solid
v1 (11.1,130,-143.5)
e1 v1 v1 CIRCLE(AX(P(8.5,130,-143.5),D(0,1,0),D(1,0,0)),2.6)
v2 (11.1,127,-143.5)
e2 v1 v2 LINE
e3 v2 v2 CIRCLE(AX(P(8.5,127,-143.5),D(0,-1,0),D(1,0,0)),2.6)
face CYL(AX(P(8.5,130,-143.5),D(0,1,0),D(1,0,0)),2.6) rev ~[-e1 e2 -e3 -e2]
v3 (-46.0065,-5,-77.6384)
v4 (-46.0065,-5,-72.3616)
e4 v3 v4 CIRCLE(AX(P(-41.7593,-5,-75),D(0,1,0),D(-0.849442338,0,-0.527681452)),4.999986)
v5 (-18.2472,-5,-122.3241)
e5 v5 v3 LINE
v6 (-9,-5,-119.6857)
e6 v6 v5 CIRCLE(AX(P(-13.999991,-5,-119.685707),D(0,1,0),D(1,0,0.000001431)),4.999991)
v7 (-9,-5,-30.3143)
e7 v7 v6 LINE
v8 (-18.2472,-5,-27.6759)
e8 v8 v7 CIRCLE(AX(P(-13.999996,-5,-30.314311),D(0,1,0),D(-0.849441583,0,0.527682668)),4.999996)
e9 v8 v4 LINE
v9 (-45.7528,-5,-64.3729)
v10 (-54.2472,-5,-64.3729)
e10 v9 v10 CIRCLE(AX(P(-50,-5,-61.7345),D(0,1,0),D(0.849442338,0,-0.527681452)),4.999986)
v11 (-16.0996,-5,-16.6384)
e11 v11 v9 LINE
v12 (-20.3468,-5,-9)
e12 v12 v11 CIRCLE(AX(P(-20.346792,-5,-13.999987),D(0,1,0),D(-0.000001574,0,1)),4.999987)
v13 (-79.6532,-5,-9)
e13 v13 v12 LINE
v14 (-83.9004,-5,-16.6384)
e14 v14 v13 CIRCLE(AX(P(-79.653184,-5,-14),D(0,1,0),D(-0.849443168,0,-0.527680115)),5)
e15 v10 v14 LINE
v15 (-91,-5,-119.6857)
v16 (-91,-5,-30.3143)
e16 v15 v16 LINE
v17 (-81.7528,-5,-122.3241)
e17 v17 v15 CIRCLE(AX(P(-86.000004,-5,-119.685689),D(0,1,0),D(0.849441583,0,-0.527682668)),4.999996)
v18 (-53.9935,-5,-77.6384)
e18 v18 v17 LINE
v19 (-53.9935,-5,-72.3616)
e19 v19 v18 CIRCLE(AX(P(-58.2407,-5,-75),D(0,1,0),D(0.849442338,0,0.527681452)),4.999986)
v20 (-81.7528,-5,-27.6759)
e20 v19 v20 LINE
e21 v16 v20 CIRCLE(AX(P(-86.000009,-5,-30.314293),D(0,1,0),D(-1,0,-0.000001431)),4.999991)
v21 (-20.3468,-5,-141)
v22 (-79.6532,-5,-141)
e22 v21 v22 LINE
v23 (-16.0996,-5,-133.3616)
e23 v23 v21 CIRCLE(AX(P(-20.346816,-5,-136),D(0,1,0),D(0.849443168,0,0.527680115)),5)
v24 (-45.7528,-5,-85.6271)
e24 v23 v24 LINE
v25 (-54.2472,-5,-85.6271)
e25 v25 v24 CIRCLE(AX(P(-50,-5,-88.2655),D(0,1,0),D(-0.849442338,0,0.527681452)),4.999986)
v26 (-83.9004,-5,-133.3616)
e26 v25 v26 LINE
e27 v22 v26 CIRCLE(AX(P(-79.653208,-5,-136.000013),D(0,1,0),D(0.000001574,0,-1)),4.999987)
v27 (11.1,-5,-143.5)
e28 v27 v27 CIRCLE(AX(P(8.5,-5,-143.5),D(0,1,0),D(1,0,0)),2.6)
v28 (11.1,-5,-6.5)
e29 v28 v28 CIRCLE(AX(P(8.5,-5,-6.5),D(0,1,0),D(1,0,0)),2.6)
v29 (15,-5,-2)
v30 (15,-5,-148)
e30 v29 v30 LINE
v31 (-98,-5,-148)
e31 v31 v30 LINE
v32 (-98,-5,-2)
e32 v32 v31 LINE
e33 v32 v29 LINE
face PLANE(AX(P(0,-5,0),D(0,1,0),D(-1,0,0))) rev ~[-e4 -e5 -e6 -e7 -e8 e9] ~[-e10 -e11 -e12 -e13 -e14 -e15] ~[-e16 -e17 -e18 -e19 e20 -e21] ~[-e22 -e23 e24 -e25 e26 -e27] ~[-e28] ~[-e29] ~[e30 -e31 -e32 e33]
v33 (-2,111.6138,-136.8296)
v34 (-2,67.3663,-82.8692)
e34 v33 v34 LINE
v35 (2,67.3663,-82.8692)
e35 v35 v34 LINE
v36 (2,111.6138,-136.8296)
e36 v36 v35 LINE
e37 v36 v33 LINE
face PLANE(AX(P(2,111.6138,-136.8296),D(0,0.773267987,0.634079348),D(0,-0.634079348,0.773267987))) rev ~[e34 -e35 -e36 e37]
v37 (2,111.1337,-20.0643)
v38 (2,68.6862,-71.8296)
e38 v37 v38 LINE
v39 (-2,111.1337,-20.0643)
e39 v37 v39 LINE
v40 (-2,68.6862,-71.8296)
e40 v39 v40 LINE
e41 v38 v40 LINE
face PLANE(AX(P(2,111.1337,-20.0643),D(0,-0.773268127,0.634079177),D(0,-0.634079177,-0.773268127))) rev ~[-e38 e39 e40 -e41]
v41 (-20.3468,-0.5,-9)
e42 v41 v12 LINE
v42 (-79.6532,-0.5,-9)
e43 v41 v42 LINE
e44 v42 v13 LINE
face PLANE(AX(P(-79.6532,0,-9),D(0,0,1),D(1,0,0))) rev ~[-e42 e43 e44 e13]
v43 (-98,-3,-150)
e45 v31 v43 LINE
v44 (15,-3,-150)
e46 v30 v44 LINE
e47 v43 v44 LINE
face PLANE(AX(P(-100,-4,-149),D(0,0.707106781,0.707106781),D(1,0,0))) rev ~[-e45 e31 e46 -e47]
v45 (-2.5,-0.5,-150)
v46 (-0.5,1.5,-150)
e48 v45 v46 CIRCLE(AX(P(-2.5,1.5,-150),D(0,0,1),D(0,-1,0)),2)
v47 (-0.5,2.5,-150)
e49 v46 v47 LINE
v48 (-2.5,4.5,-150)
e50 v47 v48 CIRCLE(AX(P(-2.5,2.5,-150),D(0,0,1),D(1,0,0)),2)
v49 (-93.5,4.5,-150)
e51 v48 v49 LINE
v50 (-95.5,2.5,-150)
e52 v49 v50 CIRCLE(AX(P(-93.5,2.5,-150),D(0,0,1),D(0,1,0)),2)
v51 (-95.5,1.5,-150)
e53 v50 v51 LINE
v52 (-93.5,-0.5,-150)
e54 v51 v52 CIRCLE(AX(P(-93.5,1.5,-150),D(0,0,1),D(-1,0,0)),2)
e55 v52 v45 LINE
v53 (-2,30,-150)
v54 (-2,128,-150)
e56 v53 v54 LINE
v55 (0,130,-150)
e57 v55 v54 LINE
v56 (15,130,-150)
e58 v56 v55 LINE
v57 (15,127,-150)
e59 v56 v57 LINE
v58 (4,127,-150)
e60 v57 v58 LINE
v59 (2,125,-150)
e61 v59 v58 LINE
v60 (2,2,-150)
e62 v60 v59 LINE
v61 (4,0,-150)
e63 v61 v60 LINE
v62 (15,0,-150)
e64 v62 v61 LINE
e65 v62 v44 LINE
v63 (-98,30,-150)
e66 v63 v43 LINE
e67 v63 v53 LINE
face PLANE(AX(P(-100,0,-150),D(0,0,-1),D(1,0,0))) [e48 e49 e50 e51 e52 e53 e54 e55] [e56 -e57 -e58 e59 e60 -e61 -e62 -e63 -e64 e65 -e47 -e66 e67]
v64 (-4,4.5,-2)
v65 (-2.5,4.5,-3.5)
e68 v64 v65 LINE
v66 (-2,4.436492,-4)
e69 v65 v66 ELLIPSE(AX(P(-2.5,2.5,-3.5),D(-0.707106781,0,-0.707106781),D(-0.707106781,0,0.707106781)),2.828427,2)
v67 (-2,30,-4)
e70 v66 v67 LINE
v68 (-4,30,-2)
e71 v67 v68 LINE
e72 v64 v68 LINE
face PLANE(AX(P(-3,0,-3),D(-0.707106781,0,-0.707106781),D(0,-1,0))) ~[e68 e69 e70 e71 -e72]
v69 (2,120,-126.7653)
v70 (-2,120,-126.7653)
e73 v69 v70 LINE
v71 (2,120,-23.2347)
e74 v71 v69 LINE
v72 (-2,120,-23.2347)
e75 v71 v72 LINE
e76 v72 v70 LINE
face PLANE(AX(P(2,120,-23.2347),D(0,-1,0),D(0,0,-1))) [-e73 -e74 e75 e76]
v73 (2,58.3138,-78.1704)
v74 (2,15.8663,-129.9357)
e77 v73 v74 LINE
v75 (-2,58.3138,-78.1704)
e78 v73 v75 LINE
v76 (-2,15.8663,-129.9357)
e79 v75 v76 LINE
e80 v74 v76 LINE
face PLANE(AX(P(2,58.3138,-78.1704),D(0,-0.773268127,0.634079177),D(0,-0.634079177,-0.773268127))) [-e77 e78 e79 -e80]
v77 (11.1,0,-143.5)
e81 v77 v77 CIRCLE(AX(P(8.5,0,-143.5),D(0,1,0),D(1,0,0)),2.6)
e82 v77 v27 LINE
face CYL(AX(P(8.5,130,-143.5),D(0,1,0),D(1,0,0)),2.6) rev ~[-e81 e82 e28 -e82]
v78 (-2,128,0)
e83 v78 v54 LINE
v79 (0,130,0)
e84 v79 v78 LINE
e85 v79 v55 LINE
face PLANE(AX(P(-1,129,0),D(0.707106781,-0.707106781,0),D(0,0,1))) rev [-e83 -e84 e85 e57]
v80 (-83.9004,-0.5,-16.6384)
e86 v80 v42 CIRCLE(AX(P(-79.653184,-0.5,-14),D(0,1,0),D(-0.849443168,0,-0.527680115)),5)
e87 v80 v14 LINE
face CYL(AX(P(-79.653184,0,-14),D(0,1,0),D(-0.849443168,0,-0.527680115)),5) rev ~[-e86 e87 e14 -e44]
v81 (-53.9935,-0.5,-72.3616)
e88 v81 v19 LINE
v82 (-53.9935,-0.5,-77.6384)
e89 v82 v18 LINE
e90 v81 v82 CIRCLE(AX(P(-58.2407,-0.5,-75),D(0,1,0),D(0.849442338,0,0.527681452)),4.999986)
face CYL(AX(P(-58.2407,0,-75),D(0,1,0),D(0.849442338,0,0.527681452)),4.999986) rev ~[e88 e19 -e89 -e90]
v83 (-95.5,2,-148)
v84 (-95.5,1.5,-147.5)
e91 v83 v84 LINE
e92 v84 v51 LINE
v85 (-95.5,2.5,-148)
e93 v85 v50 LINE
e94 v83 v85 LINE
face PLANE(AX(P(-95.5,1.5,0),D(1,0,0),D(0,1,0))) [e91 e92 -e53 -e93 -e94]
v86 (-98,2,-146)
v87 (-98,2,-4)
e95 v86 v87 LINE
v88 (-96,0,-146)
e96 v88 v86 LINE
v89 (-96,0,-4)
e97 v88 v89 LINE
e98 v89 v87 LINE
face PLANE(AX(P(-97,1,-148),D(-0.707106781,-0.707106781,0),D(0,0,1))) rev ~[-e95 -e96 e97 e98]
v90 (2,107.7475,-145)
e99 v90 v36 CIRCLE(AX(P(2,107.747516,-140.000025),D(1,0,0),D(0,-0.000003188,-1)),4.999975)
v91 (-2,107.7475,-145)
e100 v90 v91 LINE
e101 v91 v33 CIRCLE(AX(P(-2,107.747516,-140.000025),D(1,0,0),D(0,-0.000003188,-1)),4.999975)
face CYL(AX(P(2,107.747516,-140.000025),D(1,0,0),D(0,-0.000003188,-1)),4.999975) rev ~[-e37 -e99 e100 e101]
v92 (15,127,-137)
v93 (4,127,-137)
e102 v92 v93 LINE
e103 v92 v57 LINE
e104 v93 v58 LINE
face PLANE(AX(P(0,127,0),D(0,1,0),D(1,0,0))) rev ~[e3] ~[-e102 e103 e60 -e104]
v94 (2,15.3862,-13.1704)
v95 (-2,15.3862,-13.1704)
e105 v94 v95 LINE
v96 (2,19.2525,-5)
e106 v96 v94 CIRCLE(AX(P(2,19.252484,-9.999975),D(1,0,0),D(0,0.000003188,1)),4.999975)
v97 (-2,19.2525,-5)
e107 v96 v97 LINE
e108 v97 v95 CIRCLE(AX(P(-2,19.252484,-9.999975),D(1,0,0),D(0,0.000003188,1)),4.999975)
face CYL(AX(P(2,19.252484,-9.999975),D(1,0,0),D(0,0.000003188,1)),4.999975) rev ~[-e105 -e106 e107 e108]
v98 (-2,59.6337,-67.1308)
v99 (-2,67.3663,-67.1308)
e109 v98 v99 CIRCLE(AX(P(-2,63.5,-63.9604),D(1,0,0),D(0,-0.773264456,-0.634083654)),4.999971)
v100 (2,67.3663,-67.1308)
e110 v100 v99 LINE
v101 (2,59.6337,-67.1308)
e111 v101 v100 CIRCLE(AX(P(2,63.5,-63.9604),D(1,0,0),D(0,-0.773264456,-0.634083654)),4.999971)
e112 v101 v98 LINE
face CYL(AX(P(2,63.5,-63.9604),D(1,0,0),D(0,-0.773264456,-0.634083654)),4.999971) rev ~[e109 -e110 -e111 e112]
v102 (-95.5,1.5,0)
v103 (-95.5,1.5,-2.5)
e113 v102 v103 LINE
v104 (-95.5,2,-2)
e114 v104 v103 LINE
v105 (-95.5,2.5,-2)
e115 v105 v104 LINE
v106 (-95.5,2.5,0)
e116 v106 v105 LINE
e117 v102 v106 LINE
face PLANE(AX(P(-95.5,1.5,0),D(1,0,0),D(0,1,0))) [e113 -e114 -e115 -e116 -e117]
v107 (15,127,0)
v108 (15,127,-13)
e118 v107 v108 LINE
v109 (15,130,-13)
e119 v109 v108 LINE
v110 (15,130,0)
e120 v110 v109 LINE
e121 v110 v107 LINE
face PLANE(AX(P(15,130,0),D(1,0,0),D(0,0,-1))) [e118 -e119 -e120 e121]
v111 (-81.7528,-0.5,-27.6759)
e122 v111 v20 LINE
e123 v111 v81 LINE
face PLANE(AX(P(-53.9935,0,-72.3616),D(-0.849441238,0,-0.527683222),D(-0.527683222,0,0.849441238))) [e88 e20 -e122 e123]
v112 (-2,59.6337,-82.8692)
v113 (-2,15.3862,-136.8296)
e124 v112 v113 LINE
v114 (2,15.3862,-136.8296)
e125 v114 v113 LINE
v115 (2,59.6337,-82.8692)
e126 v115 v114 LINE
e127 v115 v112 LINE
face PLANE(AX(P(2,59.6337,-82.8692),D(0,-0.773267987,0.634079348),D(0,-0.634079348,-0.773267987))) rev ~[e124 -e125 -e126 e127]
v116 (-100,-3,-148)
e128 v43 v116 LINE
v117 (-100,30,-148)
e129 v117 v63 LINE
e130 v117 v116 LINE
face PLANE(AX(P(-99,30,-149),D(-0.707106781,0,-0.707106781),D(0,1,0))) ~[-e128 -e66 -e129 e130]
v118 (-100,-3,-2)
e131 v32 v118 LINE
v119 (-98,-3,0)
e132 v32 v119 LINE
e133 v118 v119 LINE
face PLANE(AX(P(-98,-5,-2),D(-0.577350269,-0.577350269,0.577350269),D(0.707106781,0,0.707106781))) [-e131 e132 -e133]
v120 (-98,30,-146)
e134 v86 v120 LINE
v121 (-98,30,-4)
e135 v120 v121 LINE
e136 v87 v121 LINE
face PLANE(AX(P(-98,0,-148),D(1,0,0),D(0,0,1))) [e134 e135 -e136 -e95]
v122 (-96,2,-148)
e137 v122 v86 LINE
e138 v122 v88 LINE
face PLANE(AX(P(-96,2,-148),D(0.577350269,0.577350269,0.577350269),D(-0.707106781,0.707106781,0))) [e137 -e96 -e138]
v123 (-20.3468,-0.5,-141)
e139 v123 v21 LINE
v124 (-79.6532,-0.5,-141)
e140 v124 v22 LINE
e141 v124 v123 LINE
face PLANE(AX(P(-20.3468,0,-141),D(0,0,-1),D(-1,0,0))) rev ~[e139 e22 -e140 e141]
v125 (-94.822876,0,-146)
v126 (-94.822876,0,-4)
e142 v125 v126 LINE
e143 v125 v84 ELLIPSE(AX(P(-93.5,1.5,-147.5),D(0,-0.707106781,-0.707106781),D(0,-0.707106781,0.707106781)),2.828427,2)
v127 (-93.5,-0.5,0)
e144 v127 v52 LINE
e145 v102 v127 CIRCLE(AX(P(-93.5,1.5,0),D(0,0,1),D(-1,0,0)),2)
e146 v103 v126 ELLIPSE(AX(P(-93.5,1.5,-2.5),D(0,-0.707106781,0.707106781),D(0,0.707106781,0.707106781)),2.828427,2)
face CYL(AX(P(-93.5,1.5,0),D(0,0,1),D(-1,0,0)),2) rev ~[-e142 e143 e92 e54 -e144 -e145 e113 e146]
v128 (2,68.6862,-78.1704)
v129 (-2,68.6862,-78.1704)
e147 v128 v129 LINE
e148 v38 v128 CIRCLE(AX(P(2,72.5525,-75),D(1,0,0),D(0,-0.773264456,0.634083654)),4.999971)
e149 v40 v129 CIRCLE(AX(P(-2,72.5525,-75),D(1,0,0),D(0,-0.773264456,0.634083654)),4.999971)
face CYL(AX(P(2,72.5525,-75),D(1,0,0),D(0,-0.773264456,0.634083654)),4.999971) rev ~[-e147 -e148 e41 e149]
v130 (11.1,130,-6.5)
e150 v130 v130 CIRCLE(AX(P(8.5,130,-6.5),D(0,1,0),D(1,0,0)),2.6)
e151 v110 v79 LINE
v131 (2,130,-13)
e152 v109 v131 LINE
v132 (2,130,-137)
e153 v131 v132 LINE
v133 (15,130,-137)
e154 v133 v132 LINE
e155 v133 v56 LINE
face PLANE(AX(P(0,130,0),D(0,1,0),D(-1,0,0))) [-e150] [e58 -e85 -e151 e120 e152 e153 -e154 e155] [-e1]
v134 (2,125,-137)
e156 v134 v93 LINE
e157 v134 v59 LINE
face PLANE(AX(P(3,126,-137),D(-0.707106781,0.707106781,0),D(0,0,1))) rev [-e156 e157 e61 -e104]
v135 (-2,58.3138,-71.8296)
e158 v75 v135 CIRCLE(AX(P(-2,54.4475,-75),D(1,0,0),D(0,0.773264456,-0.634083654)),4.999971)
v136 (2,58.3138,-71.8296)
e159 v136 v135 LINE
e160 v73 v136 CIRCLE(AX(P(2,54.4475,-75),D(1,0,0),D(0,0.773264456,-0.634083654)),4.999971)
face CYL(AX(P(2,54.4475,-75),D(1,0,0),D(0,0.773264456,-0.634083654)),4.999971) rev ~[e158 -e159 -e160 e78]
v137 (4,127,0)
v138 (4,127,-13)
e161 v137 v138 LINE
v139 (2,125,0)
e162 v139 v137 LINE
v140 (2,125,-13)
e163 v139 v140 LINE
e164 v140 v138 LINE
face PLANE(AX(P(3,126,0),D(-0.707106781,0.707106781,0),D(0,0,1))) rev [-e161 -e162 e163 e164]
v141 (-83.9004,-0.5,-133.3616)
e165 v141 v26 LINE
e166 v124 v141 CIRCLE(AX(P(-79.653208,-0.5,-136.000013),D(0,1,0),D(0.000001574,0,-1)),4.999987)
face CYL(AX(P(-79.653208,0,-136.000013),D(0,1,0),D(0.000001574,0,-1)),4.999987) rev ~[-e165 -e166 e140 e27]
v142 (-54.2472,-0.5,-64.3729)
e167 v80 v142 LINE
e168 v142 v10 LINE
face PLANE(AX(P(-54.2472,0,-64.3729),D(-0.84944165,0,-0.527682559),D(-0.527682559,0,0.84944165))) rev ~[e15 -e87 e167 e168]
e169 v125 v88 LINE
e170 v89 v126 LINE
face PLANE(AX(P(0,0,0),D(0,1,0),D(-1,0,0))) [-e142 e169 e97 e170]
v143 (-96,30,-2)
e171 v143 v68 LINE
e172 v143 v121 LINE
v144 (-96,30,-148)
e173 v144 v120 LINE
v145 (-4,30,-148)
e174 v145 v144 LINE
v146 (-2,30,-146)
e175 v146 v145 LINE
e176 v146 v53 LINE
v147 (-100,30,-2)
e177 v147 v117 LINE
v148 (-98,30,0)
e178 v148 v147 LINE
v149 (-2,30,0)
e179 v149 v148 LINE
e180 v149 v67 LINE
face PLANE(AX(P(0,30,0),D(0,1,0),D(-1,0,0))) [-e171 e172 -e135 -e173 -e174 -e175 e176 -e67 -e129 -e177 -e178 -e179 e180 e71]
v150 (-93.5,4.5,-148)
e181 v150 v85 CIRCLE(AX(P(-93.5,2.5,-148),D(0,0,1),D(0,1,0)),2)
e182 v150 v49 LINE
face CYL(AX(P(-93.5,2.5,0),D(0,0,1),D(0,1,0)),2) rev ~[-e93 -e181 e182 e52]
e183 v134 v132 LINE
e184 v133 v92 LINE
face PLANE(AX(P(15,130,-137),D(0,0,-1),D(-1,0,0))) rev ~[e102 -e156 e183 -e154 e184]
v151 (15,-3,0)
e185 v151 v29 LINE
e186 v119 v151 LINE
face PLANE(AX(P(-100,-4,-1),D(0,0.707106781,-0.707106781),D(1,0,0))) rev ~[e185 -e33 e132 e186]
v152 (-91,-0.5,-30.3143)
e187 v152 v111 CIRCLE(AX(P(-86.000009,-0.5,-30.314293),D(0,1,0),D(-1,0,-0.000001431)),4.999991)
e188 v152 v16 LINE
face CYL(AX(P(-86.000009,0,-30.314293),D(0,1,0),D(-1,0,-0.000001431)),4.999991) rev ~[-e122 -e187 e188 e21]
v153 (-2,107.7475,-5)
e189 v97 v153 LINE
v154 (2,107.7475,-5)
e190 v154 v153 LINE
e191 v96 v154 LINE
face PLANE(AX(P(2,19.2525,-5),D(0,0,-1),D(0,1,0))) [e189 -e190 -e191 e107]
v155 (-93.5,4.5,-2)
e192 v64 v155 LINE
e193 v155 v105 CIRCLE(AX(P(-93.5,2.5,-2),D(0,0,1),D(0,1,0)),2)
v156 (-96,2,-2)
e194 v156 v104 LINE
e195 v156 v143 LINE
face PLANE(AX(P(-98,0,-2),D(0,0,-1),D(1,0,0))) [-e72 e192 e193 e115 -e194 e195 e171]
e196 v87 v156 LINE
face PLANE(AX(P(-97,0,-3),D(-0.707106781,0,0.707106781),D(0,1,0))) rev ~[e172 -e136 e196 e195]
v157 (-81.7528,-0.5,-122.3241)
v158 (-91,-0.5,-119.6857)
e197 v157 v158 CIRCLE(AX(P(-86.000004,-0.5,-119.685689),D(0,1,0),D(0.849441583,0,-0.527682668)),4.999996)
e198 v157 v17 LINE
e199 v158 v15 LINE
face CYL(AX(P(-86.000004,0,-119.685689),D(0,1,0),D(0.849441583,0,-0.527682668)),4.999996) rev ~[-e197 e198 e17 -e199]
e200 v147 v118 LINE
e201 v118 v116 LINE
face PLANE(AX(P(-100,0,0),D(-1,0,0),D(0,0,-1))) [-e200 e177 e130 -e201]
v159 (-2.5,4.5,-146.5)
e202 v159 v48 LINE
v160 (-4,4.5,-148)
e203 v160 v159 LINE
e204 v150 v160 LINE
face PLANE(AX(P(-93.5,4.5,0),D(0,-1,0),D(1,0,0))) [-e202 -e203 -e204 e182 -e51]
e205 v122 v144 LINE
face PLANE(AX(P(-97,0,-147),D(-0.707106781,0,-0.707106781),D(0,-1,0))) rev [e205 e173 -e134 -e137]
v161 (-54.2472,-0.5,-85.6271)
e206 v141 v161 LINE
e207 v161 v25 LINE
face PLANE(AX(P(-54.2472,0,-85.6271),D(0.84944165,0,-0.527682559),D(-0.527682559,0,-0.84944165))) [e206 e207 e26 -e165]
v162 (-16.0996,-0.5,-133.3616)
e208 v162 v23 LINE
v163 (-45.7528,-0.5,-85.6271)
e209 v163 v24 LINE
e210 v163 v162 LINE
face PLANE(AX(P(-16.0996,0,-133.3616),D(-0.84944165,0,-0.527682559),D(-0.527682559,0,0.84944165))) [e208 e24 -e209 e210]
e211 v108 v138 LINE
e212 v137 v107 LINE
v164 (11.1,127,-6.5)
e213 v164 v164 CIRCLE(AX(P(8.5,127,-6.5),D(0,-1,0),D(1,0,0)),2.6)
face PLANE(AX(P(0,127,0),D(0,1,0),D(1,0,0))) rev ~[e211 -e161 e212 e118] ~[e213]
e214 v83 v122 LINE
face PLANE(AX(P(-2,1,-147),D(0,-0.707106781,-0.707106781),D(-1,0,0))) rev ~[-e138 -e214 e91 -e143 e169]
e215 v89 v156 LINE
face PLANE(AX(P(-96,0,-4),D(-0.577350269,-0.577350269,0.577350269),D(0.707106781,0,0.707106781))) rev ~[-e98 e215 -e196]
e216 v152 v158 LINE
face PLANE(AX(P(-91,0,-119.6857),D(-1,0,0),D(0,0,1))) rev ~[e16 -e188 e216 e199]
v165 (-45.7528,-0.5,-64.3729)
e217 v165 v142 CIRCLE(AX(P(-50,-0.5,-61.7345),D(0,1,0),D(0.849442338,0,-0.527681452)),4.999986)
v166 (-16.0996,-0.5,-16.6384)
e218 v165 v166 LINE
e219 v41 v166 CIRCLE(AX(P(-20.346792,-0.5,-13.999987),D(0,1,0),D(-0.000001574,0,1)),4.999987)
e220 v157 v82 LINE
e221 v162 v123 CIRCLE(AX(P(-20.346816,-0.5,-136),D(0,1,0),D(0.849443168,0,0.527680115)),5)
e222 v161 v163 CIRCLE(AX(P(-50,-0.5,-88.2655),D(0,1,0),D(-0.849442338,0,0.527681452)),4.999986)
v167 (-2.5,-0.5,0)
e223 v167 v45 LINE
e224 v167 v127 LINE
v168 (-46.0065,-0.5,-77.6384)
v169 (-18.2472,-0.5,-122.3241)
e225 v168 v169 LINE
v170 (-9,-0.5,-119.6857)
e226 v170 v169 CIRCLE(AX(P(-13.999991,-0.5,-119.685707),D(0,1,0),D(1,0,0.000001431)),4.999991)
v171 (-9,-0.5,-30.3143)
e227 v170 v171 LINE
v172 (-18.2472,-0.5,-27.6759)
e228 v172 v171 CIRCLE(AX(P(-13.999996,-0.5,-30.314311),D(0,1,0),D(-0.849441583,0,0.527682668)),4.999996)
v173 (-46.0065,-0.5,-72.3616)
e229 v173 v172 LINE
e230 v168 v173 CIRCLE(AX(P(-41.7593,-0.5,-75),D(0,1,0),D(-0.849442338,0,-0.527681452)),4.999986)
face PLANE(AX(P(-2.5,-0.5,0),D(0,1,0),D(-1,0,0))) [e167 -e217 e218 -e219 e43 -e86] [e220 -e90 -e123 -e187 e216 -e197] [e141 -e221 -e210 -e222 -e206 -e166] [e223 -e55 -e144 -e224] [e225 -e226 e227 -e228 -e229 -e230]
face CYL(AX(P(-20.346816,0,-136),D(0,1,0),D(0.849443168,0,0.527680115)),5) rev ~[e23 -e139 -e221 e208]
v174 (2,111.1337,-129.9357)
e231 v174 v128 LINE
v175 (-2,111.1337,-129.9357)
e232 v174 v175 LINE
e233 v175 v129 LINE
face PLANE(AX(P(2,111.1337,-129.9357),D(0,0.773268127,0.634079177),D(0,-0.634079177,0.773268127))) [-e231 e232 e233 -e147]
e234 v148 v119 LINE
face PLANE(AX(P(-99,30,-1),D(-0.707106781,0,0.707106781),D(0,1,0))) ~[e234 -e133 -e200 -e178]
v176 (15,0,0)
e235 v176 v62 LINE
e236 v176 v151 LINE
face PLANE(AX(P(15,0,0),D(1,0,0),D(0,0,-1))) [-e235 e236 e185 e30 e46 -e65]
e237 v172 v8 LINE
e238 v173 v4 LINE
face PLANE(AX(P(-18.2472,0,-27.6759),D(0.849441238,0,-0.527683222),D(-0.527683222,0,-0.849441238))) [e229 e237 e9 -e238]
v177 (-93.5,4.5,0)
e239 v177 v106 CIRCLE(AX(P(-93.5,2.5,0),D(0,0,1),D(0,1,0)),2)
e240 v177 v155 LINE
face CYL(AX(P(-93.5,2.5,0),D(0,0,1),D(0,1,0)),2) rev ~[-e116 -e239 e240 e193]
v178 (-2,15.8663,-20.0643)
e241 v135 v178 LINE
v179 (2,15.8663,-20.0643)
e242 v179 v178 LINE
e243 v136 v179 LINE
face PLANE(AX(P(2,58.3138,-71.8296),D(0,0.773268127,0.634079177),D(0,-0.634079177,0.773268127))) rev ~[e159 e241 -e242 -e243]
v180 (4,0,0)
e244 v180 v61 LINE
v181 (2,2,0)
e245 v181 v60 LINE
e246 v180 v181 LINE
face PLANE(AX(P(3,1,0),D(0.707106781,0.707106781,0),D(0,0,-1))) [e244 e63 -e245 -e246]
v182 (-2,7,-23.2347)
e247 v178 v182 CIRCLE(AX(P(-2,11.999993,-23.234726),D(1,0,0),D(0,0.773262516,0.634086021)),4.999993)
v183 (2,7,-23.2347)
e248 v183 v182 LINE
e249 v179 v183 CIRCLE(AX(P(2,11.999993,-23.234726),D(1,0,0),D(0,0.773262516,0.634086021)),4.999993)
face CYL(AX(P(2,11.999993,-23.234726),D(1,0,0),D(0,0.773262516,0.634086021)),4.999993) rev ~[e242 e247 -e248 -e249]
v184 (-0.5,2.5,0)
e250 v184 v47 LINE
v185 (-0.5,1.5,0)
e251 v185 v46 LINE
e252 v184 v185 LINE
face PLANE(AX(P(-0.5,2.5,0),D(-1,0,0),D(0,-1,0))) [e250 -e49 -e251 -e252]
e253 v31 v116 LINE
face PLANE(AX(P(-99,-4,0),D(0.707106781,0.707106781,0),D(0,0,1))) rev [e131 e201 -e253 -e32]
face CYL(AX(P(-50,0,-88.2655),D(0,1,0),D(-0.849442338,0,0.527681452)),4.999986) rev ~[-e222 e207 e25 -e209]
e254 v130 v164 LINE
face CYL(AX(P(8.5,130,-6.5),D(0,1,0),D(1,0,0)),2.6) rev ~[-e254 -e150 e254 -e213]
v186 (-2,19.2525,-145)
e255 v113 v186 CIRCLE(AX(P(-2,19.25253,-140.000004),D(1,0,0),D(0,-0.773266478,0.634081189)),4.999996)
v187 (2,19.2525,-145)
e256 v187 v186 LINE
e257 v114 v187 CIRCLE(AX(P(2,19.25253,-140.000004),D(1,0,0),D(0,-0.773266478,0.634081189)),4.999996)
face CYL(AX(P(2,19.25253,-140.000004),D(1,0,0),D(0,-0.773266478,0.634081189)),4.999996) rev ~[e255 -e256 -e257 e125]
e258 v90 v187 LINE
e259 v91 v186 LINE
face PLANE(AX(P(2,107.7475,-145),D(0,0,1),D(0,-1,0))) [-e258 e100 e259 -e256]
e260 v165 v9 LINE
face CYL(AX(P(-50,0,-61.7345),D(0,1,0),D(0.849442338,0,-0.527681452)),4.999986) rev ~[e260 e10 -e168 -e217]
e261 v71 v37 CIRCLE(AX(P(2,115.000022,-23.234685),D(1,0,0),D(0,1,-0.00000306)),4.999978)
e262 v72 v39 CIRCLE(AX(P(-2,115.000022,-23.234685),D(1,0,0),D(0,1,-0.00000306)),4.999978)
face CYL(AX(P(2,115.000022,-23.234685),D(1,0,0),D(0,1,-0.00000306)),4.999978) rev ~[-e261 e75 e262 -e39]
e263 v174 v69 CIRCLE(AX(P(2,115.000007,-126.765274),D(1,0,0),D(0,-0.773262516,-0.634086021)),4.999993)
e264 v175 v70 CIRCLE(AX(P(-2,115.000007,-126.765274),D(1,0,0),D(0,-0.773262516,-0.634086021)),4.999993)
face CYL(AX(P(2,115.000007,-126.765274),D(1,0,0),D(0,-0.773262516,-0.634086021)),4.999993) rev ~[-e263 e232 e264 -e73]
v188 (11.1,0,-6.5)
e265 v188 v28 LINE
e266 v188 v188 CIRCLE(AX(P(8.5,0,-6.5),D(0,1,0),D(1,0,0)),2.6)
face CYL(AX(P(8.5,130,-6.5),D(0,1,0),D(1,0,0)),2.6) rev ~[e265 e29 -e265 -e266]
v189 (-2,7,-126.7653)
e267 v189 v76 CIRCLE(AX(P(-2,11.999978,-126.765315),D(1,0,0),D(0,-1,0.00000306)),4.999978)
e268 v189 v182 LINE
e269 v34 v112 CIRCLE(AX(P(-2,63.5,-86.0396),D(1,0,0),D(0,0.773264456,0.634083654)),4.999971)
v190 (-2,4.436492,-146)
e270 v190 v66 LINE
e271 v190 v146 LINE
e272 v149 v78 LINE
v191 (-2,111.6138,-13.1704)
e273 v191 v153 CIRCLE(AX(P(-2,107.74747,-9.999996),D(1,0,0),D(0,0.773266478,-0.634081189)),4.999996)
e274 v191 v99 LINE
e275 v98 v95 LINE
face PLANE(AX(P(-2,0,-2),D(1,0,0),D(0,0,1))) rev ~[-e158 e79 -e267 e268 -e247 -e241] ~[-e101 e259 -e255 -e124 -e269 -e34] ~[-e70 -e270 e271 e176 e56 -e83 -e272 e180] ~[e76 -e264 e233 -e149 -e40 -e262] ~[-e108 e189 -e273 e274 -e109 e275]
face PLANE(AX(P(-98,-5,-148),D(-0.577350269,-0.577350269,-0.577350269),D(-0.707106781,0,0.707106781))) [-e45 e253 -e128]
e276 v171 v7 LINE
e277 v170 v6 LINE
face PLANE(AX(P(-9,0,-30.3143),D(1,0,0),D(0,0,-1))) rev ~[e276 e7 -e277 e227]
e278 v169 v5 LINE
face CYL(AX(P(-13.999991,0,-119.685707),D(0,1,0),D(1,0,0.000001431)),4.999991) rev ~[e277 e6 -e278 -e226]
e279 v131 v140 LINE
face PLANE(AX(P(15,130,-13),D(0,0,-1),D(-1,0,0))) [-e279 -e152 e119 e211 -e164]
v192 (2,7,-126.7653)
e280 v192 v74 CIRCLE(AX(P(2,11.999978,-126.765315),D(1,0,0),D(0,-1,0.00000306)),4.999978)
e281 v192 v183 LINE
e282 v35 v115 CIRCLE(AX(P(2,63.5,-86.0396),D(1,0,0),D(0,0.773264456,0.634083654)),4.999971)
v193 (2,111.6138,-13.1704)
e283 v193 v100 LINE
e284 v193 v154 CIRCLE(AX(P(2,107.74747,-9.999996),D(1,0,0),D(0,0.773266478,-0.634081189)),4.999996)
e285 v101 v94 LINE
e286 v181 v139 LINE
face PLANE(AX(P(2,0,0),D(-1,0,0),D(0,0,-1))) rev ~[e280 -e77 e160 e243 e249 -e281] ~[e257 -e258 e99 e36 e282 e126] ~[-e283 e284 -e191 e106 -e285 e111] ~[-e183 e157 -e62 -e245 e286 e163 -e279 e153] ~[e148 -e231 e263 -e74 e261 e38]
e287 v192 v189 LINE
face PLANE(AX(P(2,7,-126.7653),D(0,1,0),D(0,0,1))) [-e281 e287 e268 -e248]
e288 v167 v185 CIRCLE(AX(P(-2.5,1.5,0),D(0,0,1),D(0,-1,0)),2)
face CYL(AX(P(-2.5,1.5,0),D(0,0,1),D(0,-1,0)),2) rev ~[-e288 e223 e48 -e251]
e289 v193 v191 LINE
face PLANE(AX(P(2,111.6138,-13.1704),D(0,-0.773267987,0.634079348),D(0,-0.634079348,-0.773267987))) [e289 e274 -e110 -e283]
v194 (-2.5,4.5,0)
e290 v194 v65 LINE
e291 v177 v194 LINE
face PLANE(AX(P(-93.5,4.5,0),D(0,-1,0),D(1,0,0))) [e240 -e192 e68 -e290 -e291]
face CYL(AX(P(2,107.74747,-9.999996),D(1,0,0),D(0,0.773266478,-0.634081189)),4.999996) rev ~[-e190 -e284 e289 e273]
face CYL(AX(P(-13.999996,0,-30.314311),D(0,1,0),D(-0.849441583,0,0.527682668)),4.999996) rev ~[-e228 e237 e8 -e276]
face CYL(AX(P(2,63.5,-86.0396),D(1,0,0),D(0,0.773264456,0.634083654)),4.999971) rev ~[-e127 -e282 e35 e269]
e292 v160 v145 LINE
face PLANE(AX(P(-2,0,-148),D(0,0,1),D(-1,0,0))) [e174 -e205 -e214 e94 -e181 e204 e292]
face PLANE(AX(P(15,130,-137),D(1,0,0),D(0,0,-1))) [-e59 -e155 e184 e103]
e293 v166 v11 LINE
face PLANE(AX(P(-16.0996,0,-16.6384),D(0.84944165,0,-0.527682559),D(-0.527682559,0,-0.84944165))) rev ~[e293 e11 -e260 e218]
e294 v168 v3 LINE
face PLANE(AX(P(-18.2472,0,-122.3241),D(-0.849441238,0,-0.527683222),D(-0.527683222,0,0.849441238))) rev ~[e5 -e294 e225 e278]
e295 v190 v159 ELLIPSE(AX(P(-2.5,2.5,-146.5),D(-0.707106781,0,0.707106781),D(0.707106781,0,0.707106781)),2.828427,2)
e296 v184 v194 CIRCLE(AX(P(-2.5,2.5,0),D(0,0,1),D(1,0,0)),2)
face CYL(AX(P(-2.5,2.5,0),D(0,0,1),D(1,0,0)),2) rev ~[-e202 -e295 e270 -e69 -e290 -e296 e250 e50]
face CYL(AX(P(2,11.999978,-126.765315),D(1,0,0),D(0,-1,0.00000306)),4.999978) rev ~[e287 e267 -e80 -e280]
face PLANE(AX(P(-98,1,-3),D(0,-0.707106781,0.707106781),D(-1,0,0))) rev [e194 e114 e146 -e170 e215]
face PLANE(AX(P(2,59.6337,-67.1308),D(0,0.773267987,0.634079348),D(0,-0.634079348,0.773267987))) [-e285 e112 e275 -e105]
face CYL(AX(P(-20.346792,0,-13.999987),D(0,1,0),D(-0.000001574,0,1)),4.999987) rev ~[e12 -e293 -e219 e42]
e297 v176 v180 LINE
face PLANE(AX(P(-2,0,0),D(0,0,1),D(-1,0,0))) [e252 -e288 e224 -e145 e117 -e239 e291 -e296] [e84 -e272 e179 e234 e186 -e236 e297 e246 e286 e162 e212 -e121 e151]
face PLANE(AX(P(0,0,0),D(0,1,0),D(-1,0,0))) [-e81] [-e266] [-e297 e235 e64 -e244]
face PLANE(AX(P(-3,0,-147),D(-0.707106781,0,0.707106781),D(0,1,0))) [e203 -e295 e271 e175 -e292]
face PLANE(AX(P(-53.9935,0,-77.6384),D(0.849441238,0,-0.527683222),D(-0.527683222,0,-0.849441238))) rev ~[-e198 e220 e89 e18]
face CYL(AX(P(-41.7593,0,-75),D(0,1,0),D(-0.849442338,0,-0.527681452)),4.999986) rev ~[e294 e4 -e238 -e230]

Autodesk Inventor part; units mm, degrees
ref_plane "YZ Plane" through (0, 0, 0) normal (1, 0, 0) x (0, 1, 0)
ref_plane "XZ Plane" through (0, 0, 0) normal (0, 1, 0) x (-1, 0, 0)
ref_plane "XY Plane" through (0, 0, 0) normal (0, 0, 1) x (1, 0, 0)
sketch "Эскиз1" plane through (0, 0, 0) normal (0, 1, 0) x (-1, 0, 0)
  line L0 (0, 0) -> (100, 0)
  line L1 (100, 0) -> (100, -150)
  line L2 (100, -150) -> (0, -150)
  line L3 (98, -148) -> (98, -2)
  line L4 (98, -2) -> (2, -2)
  line L5 (2, -2) -> (2, -148)
  line L6 (2, -148) -> (98, -148)
  line L7 (0, 0) -> (-15, 0)
  line L8 (-15, 0) -> (-15, -150)
  line L9 (-15, -150) -> (0, -150)
  line L10 (2, 0) -> (-2, 0)
  line L11 (-2, 0) -> (-2, -150)
  line L12 (-2, -150) -> (2, -150)
  line L13 (2, -150) -> (2, 0)
  dimension "d0" = 100
  dimension "d1" = 150
  dimension "d2" = 2
  dimension "d3" = 15
  dimension "d4" = 4
extrude "Выдавливание1" add sketch "Эскиз1" along normal blind 30 contours L0 L1 L2 L13 L6 L3 L4
extrude "Выдавливание2" add sketch "Эскиз1" along normal blind 130 contours L0 L13 L5 L2 L9 L11 L7
extrude "Выдавливание3" add sketch "Эскиз1" against normal blind 5
sketch "Эскиз2" plane through (0, 130, 0) normal (0, 1, 0) x (1, 0, 0)
  line L0 (2, 0) -> (2, 150) projected
  line L1 (15, 0) -> (15, 150) projected
  line L2 (2, 0) -> (15, 0)
  line L3 (15, 0) -> (15, 13)
  line L4 (15, 13) -> (2, 13)
  line L5 (2, 13) -> (2, 0)
  line L6 (15, 0) -> (2, 13)
  line L7 (15, 13) -> (2, 0)
  circle A0 centre (8.5, 6.5) radius 2.6
  line L8 (15, 150) -> (2, 150) projected
  line L9 (2, 150) -> (15, 150)
  line L10 (15, 150) -> (15, 137)
  line L11 (15, 137) -> (2, 137)
  line L12 (2, 137) -> (2, 150)
  line L13 (15, 137) -> (2, 150)
  line L14 (2, 150) -> (-2, 150) projected
  line L15 (2, 137) -> (15, 150)
  circle A1 centre (8.5, 143.5) radius 2.6
  point P0 (0, 0)
  point P1 (2, 13)
  dimension "d11" = 13
  dimension "d12" = 5.2
  dimension "d13" = 13
  dimension "d14" = 5.2
extrude "Выдавливание4" add sketch "Эскиз2" against normal blind 3 contours L7 A0 L6 L2 | L0 L6 A0 L7 | L4 L7 A0 L6 | L6 A0 L7 L1 | L15 A1 L13 L11 | L0 L13 A1 L15 | L8 L15 A1 L13 | L13 A1 L15 L1
extrude "Выдавливание5" cut sketch "Эскиз2" against normal blind 150 contours A0 L6 L7 | L7 L6 A0 | A0 L7 L6 | L6 L7 A0 | A1 L13 L15 | L15 L13 A1 | A1 L15 L13 | L13 L15 A1
chamfer "Фаска1" distance 2 angle 45 17 edges at (-100, 12.5, -150) (-98, 15, -2) (-98, 0, -75) (-50, 0, -2) (-100, 12.5, 0) (-50, 0, -148) (-98, 15, -148) (-2, 0, -75) (-2, 15, -148) (-2, 15, -2) (-42.5, -5, -150) (-100, -5, -75) (-42.5, -5, 0) (2, 0, -75) (-2, 130, -75) (2, 127, -6.5) (2, 127, -143.5)
sketch "Эскиз3" plane through (2, 130, -13) normal (1, 0, 0) x (0, 0, -1)
  line L0 (-13, -5) -> (0, -5) projected
  line L1 (137, -128) -> (-13, -128) projected
  line L2 (-13, -5) -> (137, -5)
  line L3 (137, -5) -> (137, -128)
  line L4 (137, -128) -> (-13, -128)
  line L5 (-13, -128) -> (-13, -5)
  line L6 (113.7653, -123) -> (10.2347, -123)
  line L7 (10.2347, -10) -> (113.7653, -10)
  line L8 (132, -22.2525) -> (132, -110.7475)
  line L9 (-9.8458, -128) -> (-11.7318, -129.5465)
  line L10 (-8, -110.7475) -> (-8, -22.2525)
  line L11 (7.0643, -18.8663) -> (58.8296, -61.3138)
  line L12 (69.8692, -70.3663) -> (123.8296, -114.6138)
  line L13 (116.9357, -18.8663) -> (65.1704, -61.3138)
  line L14 (54.1308, -70.3663) -> (0.1704, -114.6138)
  line L15 (123.8296, -18.3862) -> (69.8692, -62.6337)
  line L16 (58.8296, -71.6862) -> (7.0643, -114.1337)
  line L17 (0.1704, -18.3862) -> (54.1308, -62.6337)
  line L18 (65.1704, -71.6862) -> (116.9357, -114.1337)
  arc A0 (60.7318, -62.8737) -> (63.2682, -62.8737) centre (62, -61.3271) ccw
  arc A1 (69.8692, -62.6337) -> (69.8692, -70.3663) centre (73.0396, -66.5) ccw
  arc A2 (58.8296, -61.3138) -> (65.1704, -61.3138) centre (62, -57.4475) ccw
  arc A3 (54.1308, -70.3663) -> (54.1308, -62.6337) centre (50.9604, -66.5) ccw
  arc A4 (65.1704, -71.6862) -> (58.8296, -71.6862) centre (62, -75.5525) ccw
  arc A5 (123.8296, -114.6138) -> (132, -110.7475) centre (127, -110.7475) ccw
  arc A6 (113.7653, -123) -> (116.9357, -114.1337) centre (113.7653, -118) ccw
  arc A7 (7.0643, -114.1337) -> (10.2347, -123) centre (10.2347, -118) ccw
  arc A8 (-8, -110.7475) -> (0.1704, -114.6138) centre (-3, -110.7475) ccw
  arc A9 (0.1704, -18.3862) -> (-8, -22.2525) centre (-3, -22.2525) ccw
  arc A10 (10.2347, -10) -> (7.0643, -18.8663) centre (10.2347, -15) ccw
  arc A11 (116.9357, -18.8663) -> (113.7653, -10) centre (113.7653, -15) ccw
  arc A12 (132, -22.2525) -> (123.8296, -18.3862) centre (127, -22.2525) ccw
  point P0 (-13, -130)
  dimension "d29" = 5
  dimension "d30" = 2
  dimension "d31" = 5
extrude "Выдавливание6" cut sketch "Эскиз3" against normal blind 50 contours L6 A7 L16 A4 L18 A6 | L7 A11 L13 A2 L11 A10 | L8 A5 L12 A1 L15 A12 | L10 A9 L17 A3 L14 A8
sketch "Эскиз4" plane through (0, 0, 0) normal (0, 1, 0) x (1, 0, 0)
  line L0 (-4, 146) -> (-4, 148) projected
  line L1 (-4, 146) -> (-96, 146)
  line L2 (-96, 146) -> (-96, 4)
  line L3 (-96, 4) -> (-4, 4)
  line L4 (-4, 4) -> (-4, 146)
  line L5 (-20.3468, 141) -> (-79.6532, 141)
  line L6 (-91, 119.6857) -> (-91, 30.3143)
  line L7 (-79.6532, 9) -> (-20.3468, 9)
  line L8 (-9, 30.3143) -> (-9, 119.6857)
  line L9 (-18.2472, 27.6759) -> (-46.0065, 72.3616)
  line L10 (-54.2472, 85.6271) -> (-83.9004, 133.3616)
  line L11 (-16.0996, 16.6384) -> (-45.7528, 64.3729)
  line L12 (-53.9935, 77.6384) -> (-81.7528, 122.3241)
  line L13 (-16.0996, 133.3616) -> (-45.7528, 85.6271)
  line L14 (-53.9935, 72.3616) -> (-81.7528, 27.6759)
  line L15 (-18.2472, 122.3241) -> (-46.0065, 77.6384)
  line L16 (-54.2472, 64.3729) -> (-83.9004, 16.6384)
  arc A0 (-46.0065, 77.6384) -> (-46.0065, 72.3616) centre (-41.7593, 75) ccw
  arc A1 (-45.7528, 64.3729) -> (-54.2472, 64.3729) centre (-50, 61.7345) ccw
  arc A2 (-53.9935, 72.3616) -> (-53.9935, 77.6384) centre (-58.2407, 75) ccw
  arc A3 (-54.2472, 85.6271) -> (-45.7528, 85.6271) centre (-50, 88.2655) ccw
  arc A4 (-9, 119.6857) -> (-18.2472, 122.3241) centre (-14, 119.6857) ccw
  arc A5 (-18.2472, 27.6759) -> (-9, 30.3143) centre (-14, 30.3143) ccw
  arc A6 (-20.3468, 9) -> (-16.0996, 16.6384) centre (-20.3468, 14) ccw
  arc A7 (-83.9004, 16.6384) -> (-79.6532, 9) centre (-79.6532, 14) ccw
  arc A8 (-91, 30.3143) -> (-81.7528, 27.6759) centre (-86, 30.3143) ccw
  arc A9 (-81.7528, 122.3241) -> (-91, 119.6857) centre (-86, 119.6857) ccw
  arc A10 (-79.6532, 141) -> (-83.9004, 133.3616) centre (-79.6532, 136) ccw
  arc A11 (-16.0996, 133.3616) -> (-20.3468, 141) centre (-20.3468, 136) ccw
  point P0 (0, 0)
  dimension "d34" = 5
  dimension "d39" = 5
extrude "Выдавливание7" cut sketch "Эскиз4" against normal blind 50 contours A11 L13 A3 L10 A10 L5 | A9 L12 A2 L14 A8 L6 | A7 L16 A1 L11 A6 L7 | A5 L9 A0 L15 A4 L8
sketch "Эскиз5" plane through (4, 0, 0) normal (0, 0, 1) x (1, 0, 0)
  line L0 (-102, 30) -> (-102, -3) projected
  line L1 (-2, 2) -> (-2, 125) projected
  line L2 (-102, -3) -> (-2, -3)
  line L3 (-2, -3) -> (-2, 7)
  line L4 (-2, 7) -> (-102, 7)
  line L5 (-102, 7) -> (-102, -3)
  line L6 (-97.5, 4.5) -> (-6.5, 4.5)
  line L7 (-4.5, 2.5) -> (-4.5, 1.5)
  line L8 (-6.5, -0.5) -> (-97.5, -0.5)
  line L9 (-99.5, 1.5) -> (-99.5, 2.5)
  arc A0 (-97.5, 4.5) -> (-99.5, 2.5) centre (-97.5, 2.5) ccw
  arc A1 (-99.5, 1.5) -> (-97.5, -0.5) centre (-97.5, 1.5) ccw
  arc A2 (-4.5, 2.5) -> (-6.5, 4.5) centre (-6.5, 2.5) ccw
  arc A3 (-6.5, -0.5) -> (-4.5, 1.5) centre (-6.5, 1.5) ccw
  point P0 (-4, 0)
  dimension "d42" = 10
  dimension "d43" = 2.5
  dimension "d44" = 2
extrude "Выдавливание8" cut sketch "Эскиз5" against normal blind 1111 contours L6 A2 L7 A3 L8 A1 L9 A0
properties part number "HolderWater"
